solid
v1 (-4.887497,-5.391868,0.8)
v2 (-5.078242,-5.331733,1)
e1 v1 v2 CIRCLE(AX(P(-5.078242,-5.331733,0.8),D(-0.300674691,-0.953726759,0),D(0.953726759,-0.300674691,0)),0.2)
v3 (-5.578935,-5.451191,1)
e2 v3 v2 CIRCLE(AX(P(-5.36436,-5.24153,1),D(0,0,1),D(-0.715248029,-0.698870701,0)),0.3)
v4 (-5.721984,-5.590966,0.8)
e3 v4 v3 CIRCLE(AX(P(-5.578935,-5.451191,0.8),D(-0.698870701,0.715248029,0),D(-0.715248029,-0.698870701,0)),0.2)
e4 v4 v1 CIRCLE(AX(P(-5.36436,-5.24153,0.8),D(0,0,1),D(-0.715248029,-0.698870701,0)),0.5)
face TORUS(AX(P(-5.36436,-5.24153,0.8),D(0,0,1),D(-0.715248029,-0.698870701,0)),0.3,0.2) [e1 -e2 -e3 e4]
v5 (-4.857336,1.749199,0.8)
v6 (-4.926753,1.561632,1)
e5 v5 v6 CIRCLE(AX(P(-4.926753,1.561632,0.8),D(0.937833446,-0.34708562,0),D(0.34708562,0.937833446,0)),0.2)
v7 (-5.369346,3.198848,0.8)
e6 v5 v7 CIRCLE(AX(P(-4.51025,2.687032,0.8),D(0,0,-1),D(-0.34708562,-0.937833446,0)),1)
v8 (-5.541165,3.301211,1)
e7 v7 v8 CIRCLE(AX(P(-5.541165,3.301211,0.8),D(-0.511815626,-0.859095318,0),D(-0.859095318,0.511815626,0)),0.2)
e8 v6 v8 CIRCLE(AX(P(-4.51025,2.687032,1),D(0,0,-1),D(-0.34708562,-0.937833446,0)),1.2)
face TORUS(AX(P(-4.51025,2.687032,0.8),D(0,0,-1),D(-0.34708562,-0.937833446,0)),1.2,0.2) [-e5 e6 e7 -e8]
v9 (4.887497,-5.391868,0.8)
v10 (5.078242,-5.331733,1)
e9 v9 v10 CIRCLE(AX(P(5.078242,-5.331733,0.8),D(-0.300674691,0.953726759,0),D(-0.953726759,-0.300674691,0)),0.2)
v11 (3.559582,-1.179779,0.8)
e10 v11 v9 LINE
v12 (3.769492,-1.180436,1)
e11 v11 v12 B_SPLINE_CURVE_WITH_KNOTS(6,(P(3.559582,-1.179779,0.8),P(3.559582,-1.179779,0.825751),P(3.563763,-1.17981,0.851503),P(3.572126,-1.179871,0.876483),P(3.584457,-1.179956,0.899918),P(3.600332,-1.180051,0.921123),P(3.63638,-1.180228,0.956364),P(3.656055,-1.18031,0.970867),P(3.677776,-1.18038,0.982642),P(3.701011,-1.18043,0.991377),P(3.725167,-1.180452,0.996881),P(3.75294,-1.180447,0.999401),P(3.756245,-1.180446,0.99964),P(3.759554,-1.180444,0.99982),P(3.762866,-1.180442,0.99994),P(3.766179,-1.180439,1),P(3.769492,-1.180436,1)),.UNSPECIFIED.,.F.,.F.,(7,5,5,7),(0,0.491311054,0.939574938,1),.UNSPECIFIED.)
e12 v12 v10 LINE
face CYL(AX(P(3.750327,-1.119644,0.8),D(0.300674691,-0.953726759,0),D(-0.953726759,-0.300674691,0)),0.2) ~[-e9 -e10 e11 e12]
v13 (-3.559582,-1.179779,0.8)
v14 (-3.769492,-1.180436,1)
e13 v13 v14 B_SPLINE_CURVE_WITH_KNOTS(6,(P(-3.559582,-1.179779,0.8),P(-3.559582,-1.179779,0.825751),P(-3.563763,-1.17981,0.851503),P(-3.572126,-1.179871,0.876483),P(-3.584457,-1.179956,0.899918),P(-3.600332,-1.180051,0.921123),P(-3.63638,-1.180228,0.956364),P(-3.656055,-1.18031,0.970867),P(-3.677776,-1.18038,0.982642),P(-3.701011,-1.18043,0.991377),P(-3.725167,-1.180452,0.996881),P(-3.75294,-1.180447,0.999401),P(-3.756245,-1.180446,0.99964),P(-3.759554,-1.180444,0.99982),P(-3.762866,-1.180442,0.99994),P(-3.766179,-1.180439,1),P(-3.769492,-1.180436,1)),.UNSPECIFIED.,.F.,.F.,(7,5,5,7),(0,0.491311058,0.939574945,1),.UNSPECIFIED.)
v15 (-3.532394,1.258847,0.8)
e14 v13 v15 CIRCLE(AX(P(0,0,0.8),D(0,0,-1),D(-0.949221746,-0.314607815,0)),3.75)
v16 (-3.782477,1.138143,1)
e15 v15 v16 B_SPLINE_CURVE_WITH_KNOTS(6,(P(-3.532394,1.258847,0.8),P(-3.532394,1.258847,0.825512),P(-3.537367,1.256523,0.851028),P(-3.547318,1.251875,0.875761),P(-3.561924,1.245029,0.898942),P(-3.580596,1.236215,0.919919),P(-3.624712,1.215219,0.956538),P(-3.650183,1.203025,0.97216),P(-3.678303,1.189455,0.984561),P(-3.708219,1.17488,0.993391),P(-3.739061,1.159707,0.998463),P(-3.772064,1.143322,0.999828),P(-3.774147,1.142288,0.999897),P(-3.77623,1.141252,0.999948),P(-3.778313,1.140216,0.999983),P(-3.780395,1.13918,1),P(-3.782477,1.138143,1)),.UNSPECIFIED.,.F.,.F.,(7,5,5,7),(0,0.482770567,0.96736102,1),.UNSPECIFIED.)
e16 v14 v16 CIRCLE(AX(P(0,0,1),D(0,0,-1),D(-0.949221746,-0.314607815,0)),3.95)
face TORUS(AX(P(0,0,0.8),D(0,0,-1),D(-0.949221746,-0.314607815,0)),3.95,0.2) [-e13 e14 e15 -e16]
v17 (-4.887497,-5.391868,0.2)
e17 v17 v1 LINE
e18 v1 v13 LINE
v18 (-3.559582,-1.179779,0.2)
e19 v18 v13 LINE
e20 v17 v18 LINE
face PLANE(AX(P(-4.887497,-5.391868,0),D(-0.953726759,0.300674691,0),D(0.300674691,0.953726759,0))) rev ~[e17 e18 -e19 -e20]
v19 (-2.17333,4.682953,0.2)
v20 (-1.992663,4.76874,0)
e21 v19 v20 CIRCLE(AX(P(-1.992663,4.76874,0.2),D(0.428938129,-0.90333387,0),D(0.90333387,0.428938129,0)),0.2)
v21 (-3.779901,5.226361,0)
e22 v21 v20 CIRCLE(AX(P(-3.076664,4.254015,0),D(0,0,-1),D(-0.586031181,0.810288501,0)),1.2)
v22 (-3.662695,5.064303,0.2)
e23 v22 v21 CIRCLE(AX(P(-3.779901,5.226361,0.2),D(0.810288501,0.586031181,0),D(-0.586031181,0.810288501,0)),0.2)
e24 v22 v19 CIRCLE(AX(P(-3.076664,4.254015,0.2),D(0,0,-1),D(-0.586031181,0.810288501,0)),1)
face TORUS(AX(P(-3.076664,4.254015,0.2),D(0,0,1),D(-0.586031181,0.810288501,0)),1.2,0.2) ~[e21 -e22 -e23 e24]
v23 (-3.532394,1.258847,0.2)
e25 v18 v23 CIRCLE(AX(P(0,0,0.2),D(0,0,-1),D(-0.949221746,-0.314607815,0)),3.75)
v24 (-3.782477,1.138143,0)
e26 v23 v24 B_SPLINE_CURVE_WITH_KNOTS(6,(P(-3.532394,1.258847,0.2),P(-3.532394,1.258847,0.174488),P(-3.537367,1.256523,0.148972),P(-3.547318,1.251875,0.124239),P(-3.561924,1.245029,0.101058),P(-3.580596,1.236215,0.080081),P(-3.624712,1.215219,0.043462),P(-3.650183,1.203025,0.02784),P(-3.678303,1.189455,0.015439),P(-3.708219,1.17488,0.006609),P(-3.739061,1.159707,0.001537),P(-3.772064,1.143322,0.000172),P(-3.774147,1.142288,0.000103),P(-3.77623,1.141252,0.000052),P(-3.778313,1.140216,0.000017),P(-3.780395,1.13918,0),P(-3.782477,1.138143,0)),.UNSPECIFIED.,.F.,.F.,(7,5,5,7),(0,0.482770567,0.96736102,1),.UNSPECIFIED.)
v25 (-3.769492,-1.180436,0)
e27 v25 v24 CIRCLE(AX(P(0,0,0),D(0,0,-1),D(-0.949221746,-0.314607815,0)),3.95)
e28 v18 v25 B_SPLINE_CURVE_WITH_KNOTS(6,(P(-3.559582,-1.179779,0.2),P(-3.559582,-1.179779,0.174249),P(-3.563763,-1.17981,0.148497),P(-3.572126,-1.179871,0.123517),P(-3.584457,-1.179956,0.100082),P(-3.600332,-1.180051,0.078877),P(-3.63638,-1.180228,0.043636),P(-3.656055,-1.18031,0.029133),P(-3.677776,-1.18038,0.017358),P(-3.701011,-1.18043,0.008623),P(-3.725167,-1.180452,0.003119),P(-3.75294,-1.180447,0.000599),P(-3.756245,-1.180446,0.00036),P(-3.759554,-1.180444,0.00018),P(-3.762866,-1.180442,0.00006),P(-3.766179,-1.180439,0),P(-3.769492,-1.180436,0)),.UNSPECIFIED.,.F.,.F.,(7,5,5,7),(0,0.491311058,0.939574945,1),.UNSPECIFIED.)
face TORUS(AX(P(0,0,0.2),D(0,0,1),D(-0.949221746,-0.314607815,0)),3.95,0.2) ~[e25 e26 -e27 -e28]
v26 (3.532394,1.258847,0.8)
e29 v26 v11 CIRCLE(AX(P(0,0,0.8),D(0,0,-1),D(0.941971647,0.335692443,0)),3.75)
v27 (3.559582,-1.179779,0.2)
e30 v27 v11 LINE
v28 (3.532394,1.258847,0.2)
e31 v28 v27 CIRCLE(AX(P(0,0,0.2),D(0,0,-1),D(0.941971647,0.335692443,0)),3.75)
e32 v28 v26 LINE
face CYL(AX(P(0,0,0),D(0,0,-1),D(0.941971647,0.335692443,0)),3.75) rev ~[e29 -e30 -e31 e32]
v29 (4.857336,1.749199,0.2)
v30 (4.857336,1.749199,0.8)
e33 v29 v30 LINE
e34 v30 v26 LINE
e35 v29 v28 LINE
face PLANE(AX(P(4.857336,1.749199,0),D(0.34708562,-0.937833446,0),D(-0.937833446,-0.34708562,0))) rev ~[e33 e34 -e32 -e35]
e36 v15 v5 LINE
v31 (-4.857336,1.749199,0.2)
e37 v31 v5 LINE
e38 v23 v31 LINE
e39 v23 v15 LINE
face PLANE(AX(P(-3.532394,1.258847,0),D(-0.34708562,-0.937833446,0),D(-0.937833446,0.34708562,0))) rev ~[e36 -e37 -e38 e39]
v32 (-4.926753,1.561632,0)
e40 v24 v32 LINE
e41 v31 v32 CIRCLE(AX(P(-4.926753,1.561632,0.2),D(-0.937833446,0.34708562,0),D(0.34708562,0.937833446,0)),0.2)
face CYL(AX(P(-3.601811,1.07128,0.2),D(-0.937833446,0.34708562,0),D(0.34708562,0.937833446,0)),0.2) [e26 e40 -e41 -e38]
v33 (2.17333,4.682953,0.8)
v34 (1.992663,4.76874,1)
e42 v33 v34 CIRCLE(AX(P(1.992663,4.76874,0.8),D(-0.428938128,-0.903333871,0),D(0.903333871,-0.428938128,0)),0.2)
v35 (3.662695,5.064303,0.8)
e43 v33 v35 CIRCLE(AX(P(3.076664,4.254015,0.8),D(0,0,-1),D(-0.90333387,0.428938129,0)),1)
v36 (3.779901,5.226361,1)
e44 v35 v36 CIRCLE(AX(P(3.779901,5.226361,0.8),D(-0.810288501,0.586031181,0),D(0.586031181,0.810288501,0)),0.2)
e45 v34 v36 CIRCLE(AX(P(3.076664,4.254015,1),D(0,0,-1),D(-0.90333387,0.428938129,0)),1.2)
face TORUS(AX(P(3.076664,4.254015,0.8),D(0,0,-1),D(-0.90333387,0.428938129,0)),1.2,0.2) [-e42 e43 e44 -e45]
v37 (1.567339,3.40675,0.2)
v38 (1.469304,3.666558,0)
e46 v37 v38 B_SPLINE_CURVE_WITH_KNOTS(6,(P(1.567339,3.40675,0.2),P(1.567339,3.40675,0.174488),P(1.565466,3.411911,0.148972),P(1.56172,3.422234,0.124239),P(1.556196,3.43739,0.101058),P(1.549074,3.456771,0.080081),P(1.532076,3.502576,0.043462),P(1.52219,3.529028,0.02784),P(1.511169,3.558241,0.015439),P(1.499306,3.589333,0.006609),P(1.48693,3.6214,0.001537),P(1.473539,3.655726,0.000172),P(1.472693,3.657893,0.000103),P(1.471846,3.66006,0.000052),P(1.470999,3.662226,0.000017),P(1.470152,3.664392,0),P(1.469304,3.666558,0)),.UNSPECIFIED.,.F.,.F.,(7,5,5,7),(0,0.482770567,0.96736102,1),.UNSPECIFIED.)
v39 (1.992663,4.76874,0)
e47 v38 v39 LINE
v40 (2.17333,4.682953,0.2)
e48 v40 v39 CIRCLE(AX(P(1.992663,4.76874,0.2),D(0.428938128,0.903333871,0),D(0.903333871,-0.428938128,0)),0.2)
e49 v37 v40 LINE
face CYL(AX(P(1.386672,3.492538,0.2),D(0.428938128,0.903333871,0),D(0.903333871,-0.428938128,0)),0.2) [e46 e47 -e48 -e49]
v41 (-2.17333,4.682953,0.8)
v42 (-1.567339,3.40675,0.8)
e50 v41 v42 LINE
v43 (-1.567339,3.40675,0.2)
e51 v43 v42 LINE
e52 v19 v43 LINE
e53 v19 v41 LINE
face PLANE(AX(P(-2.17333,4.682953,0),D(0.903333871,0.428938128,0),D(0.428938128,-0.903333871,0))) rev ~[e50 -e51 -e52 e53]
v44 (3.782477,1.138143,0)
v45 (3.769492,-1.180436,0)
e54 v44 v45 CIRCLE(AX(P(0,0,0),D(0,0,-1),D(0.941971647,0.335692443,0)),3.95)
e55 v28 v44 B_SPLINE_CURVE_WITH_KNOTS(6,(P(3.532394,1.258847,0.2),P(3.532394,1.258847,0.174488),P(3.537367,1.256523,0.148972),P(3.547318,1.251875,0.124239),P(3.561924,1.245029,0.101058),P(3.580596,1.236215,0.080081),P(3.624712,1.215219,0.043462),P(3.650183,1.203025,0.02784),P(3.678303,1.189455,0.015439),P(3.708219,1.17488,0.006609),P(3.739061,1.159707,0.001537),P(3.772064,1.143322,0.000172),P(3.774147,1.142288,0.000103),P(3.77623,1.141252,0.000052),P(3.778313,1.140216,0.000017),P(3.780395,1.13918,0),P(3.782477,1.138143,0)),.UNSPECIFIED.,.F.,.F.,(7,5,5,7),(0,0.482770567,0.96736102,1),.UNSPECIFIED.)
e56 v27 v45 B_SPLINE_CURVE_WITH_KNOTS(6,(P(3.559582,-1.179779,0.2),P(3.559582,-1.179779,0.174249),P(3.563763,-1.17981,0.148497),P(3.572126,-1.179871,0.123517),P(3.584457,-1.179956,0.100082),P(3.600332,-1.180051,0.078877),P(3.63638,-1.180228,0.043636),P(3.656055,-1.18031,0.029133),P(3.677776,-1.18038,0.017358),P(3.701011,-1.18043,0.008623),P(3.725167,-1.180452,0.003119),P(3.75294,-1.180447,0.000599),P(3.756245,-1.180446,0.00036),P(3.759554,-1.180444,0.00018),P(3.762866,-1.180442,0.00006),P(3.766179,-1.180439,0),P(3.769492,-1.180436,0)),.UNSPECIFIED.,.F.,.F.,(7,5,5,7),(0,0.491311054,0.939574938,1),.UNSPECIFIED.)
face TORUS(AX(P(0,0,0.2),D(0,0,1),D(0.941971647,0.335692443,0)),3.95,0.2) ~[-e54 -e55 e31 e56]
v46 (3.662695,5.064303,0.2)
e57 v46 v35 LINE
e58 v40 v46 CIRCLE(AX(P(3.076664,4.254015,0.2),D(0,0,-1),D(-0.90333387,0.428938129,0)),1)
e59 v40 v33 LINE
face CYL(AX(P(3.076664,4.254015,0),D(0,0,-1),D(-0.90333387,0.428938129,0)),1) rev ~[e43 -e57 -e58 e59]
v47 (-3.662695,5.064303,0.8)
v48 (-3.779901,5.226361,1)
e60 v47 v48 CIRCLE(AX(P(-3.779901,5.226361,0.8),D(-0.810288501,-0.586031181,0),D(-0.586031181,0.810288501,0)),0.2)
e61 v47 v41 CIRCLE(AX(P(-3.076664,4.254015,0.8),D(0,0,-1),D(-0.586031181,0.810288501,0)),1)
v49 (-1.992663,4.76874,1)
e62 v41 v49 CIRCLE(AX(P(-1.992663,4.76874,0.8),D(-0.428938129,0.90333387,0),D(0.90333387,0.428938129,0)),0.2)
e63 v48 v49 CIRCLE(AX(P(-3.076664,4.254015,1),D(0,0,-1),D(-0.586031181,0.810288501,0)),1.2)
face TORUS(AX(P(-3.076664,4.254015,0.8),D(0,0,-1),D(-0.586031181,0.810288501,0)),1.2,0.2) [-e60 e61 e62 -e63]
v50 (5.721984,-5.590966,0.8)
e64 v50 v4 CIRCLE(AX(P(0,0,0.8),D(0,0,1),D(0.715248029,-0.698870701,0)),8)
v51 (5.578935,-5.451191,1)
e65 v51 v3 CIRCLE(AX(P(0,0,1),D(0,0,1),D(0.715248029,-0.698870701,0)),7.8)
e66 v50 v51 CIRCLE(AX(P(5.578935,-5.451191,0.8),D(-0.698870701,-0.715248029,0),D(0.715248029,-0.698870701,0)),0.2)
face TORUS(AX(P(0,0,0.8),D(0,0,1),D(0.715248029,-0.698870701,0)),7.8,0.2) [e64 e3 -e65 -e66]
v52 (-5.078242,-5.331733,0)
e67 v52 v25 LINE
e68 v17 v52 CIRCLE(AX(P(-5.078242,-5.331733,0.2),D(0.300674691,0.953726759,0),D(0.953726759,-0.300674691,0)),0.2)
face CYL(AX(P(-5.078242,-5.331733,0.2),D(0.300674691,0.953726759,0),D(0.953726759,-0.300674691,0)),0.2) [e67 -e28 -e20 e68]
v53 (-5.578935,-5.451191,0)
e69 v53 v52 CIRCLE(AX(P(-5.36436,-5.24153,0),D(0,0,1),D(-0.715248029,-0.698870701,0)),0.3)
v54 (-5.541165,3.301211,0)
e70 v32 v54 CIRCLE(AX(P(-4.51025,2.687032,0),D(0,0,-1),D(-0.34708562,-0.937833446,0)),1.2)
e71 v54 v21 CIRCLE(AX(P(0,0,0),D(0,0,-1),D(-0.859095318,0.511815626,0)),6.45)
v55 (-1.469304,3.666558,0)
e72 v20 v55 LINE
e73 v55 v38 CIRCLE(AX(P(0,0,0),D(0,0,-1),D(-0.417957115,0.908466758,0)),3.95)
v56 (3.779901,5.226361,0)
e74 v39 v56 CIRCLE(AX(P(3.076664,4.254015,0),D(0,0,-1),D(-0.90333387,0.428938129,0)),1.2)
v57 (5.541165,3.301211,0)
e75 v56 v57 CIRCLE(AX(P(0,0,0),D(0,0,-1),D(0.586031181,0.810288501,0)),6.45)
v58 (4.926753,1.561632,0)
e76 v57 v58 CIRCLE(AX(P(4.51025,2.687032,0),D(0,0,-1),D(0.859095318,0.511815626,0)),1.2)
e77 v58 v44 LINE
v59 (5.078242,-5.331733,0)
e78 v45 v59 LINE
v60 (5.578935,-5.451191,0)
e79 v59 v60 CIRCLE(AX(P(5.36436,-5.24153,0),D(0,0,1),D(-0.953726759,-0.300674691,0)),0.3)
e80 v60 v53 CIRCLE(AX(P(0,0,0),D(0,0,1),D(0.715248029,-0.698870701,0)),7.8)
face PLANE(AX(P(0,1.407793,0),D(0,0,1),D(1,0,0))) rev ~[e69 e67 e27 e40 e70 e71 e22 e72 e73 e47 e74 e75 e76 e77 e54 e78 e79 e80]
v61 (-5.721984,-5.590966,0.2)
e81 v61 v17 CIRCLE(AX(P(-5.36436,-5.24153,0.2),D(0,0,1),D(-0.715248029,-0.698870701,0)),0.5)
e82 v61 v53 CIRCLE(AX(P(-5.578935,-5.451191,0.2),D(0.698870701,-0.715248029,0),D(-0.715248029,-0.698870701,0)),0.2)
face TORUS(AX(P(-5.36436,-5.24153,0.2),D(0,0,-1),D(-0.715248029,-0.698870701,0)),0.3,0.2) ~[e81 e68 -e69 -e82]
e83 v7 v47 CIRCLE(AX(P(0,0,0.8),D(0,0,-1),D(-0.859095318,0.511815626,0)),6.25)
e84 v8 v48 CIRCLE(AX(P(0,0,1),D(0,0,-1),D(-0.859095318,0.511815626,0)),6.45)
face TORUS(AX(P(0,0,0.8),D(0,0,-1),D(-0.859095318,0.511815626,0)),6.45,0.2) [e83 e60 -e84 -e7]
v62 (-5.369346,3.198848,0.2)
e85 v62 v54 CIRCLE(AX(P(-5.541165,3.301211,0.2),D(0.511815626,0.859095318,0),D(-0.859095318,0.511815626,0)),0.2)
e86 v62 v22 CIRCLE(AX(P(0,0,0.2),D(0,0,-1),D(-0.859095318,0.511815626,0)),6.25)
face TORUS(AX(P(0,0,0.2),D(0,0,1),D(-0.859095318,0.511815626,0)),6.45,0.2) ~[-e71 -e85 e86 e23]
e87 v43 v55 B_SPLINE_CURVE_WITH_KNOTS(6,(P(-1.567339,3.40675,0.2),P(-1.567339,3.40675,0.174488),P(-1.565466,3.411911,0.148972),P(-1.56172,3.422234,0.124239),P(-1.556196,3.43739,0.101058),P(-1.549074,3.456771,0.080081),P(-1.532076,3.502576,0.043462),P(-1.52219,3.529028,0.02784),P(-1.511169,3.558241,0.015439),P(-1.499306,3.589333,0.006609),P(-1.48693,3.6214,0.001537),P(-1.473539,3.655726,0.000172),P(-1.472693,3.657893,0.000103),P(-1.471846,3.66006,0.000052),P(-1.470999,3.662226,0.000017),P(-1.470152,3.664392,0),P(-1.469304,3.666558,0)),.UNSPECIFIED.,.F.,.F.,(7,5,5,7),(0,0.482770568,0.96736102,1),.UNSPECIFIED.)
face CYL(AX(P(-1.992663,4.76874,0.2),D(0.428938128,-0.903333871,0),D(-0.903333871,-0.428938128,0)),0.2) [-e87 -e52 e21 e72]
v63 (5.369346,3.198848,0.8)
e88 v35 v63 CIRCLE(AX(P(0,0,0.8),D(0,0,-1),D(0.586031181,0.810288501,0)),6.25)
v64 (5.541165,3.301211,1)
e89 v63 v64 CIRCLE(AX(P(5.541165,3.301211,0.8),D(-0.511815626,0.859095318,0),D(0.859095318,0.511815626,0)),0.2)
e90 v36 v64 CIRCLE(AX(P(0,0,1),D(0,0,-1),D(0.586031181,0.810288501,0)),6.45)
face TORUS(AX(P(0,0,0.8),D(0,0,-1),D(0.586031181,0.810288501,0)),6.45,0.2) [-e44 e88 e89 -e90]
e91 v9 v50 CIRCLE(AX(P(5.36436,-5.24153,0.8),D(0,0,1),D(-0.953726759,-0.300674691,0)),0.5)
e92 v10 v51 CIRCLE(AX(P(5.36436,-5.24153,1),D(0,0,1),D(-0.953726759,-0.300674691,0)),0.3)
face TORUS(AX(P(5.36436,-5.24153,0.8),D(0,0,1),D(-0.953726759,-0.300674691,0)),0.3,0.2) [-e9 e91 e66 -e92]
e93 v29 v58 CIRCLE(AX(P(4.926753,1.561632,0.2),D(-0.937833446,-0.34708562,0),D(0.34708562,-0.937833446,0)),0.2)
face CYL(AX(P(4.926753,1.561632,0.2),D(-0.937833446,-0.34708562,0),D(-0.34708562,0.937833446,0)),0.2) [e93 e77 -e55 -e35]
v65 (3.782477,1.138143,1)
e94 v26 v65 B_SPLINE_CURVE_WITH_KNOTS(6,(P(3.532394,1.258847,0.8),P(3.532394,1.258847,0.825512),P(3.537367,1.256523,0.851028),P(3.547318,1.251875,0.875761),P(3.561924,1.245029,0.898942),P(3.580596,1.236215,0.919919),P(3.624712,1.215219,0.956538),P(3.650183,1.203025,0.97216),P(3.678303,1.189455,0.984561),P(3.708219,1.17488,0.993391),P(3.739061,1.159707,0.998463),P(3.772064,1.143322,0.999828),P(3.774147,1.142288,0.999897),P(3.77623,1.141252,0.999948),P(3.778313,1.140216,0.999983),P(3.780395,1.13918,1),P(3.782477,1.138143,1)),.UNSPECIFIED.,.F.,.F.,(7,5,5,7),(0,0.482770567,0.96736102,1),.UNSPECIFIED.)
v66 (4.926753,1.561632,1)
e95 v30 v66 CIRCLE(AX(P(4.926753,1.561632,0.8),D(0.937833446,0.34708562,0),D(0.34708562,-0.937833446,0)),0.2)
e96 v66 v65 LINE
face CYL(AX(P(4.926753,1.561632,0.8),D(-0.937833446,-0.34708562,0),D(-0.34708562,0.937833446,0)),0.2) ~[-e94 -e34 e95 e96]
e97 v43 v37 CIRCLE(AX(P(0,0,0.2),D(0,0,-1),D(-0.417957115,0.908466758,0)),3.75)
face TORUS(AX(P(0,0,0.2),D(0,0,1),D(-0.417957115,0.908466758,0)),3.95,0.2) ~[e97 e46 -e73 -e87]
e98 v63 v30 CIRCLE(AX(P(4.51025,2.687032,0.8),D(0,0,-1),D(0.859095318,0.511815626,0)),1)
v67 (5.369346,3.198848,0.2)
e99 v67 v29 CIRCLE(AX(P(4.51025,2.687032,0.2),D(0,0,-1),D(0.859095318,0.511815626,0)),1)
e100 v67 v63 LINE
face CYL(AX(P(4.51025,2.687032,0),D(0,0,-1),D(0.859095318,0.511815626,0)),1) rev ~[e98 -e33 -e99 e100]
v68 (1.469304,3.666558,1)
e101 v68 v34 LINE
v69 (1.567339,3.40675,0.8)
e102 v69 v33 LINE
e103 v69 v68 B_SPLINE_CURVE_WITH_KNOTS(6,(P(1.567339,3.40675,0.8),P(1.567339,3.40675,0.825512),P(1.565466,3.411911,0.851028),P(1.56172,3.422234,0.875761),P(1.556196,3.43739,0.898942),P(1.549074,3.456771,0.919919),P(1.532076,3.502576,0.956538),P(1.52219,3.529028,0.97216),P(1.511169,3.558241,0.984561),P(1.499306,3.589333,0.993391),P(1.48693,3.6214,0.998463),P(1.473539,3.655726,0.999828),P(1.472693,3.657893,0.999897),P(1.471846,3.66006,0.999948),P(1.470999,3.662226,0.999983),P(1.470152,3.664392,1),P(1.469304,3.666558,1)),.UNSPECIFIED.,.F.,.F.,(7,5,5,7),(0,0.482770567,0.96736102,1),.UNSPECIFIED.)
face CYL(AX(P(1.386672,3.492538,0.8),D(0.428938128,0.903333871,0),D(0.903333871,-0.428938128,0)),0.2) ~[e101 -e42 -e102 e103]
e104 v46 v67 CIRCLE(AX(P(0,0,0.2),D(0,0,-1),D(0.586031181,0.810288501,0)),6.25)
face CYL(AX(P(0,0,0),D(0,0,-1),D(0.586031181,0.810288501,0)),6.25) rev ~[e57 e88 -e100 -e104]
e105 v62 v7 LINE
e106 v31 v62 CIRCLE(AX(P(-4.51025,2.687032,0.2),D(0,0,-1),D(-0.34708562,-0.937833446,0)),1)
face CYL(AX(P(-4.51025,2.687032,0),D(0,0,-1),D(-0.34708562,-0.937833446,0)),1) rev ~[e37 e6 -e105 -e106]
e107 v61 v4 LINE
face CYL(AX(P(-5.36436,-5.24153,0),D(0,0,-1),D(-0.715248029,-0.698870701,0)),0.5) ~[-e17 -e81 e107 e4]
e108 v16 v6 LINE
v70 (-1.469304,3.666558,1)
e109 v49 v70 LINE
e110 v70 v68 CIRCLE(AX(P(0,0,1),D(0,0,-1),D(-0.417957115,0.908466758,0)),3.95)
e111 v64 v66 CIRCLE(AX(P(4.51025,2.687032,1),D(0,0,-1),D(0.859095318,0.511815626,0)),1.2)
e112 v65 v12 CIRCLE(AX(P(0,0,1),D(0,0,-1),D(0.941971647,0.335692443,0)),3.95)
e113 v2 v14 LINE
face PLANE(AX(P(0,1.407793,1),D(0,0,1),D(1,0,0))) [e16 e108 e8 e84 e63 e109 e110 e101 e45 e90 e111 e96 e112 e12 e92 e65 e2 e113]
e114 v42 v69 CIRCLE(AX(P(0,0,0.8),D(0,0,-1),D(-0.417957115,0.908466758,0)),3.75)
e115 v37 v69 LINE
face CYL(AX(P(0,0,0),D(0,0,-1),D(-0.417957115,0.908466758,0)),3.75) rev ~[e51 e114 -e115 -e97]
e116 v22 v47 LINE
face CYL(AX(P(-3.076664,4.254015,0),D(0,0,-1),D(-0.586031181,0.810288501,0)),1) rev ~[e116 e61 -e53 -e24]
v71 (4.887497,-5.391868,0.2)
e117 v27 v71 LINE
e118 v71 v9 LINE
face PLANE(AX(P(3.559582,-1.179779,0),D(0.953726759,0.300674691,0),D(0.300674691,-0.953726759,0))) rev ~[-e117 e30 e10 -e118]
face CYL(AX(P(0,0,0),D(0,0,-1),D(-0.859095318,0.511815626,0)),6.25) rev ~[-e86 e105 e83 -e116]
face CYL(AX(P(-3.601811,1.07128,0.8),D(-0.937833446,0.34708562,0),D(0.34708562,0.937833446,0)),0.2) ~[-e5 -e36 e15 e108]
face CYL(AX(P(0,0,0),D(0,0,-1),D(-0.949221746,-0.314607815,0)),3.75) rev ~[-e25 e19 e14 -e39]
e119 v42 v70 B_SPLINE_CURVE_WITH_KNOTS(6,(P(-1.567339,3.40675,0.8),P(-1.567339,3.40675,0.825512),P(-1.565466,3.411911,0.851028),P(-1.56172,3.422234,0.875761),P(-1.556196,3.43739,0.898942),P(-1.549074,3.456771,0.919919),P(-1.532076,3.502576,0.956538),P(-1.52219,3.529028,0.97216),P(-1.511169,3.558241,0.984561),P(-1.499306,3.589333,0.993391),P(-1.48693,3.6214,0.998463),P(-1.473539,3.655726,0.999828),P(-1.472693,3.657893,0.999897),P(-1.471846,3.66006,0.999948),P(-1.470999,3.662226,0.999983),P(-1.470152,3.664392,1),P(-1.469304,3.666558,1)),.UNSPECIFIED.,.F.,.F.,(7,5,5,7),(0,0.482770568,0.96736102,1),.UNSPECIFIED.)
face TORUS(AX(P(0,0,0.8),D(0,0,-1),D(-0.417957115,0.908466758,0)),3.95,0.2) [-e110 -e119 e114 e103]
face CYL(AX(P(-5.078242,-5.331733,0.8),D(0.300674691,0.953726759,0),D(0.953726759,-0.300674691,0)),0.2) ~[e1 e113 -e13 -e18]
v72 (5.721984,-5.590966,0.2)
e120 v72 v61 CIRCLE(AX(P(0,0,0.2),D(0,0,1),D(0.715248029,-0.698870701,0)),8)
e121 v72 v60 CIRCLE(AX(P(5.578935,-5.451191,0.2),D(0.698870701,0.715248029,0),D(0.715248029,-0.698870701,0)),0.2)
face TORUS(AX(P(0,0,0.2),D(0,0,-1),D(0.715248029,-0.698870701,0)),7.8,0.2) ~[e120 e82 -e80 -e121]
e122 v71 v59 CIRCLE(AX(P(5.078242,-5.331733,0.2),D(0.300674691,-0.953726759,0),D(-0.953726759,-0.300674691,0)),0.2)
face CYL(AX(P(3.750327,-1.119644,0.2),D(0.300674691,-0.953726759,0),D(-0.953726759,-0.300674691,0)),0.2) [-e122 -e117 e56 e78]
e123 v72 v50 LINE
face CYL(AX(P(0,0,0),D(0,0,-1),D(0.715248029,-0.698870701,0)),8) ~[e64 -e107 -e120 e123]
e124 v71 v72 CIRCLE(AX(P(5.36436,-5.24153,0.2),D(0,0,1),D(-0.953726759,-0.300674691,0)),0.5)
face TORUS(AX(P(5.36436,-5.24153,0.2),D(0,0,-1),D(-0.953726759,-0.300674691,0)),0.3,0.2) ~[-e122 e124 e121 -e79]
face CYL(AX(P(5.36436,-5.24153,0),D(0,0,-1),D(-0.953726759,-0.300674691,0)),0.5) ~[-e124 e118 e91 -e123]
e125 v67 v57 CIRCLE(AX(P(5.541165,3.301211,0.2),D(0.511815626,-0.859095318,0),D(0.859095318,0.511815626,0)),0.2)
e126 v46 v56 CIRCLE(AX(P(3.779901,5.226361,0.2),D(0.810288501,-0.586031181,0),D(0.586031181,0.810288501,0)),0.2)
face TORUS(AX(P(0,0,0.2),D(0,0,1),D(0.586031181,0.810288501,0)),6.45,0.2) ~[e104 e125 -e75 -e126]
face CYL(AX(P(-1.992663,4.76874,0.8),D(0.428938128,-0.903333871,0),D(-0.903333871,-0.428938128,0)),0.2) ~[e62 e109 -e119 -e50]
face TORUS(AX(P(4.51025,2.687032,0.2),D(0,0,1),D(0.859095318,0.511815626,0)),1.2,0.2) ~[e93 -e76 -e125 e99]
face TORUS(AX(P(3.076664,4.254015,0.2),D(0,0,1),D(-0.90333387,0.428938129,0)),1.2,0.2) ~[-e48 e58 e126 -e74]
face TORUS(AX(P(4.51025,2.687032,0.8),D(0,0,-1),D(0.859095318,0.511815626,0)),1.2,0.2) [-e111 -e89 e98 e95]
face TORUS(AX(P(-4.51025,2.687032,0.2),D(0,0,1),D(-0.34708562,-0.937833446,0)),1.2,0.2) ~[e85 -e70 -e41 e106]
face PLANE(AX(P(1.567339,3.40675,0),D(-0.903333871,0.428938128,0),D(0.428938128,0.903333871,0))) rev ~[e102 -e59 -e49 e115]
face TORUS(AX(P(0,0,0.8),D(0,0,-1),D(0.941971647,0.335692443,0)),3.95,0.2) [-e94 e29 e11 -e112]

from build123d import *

# Parameters (mm, degrees)
EXTRUSION1_DEPTH = 1
CONG_1_R         = 0.2


with BuildPart() as part:
    # Esquisse1 → Extrusion1 (new body)
    with BuildSketch(Plane.XY):
        with BuildLine():
            Line((1.567339183, 3.406750341), (2.17332983, 4.682952759))
            ThreePointArc((2.17332983, 4.682952759), (2.828616778, 5.222762649), (3.662694882, 5.064303131))
            ThreePointArc((3.662694882, 5.064303131), (4.611336081, 4.218777021), (5.369345735, 3.198847664))
            ThreePointArc((5.369345735, 3.198847664), (5.45316543, 2.353998589), (4.857336037, 1.749198592))
            Line((4.857336037, 1.749198592), (3.532393676, 1.258846662))
            ThreePointArc((3.532393676, 1.258846662), (3.749766965, 0.041805581), (3.559581546, -1.17977931))
            Line((3.559581546, -1.17977931), (4.887496838, -5.391867605))
            ThreePointArc((4.887496838, -5.391867605), (5.24832354, -5.727879403), (5.721984232, -5.59096561))
            ThreePointArc((5.721984232, -5.59096561), (0, 8), (-5.721984232, -5.59096561))
            ThreePointArc((-5.721984232, -5.59096561), (-5.24832354, -5.727879403), (-4.887496838, -5.391867605))
            Line((-4.887496838, -5.391867605), (-3.559581546, -1.17977931))
            ThreePointArc((-3.559581546, -1.17977931), (-3.749766965, 0.041805581), (-3.532393676, 1.258846662))
            Line((-3.532393676, 1.258846662), (-4.857336037, 1.749198592))
            ThreePointArc((-4.857336037, 1.749198592), (-5.45316543, 2.353998589), (-5.369345735, 3.198847664))
            ThreePointArc((-5.369345735, 3.198847664), (-4.611336081, 4.218777021), (-3.662694882, 5.064303131))
            ThreePointArc((-3.662694882, 5.064303131), (-2.828616778, 5.222762649), (-2.17332983, 4.682952759))
            Line((-2.17332983, 4.682952759), (-1.567339183, 3.406750341))
            ThreePointArc((-1.567339183, 3.406750341), (0, 3.75), (1.567339183, 3.406750341))
        make_face()
    extrude(amount=EXTRUSION1_DEPTH)

    # Congé1
    cong_1_edges = [part.edges().sort_by_distance(p)[0] for p in [
        (-2.828616778, 5.222762649, 0),
        (-2.828616778, 5.222762649, 1),
        (-1.870334507, 4.04485155, 0),
        (-1.870334507, 4.04485155, 1),
        (0, 3.75, 0),
        (0, 3.75, 1),
        (1.870334507, 4.04485155, 0),
        (1.870334507, 4.04485155, 1),
        (2.828616778, 5.222762649, 0),
        (2.828616778, 5.222762649, 1),
        (4.611336081, 4.218777021, 0),
        (4.611336081, 4.218777021, 1),
        (5.45316543, 2.353998589, 0),
        (5.45316543, 2.353998589, 1),
        (4.194864856, 1.504022627, 0),
        (4.194864856, 1.504022627, 1),
        (3.749766965, 0.041805581, 0),
        (3.749766965, 0.041805581, 1),
        (4.223539192, -3.285823458, 0),
        (4.223539192, -3.285823458, 1),
        (5.24832354, -5.727879403, 0),
        (5.24832354, -5.727879403, 1),
        (0, 8, 0),
        (0, 8, 1),
        (-5.24832354, -5.727879403, 0),
        (-5.24832354, -5.727879403, 1),
        (-4.223539192, -3.285823458, 0),
        (-4.223539192, -3.285823458, 1),
        (-3.749766965, 0.041805581, 0),
        (-3.749766965, 0.041805581, 1),
        (-4.194864856, 1.504022627, 0),
        (-4.194864856, 1.504022627, 1),
        (-5.45316543, 2.353998589, 0),
        (-5.45316543, 2.353998589, 1),
        (-4.611336081, 4.218777021, 0),
        (-4.611336081, 4.218777021, 1),
    ]]
    fillet(cong_1_edges, radius=CONG_1_R)


solid = part.part
